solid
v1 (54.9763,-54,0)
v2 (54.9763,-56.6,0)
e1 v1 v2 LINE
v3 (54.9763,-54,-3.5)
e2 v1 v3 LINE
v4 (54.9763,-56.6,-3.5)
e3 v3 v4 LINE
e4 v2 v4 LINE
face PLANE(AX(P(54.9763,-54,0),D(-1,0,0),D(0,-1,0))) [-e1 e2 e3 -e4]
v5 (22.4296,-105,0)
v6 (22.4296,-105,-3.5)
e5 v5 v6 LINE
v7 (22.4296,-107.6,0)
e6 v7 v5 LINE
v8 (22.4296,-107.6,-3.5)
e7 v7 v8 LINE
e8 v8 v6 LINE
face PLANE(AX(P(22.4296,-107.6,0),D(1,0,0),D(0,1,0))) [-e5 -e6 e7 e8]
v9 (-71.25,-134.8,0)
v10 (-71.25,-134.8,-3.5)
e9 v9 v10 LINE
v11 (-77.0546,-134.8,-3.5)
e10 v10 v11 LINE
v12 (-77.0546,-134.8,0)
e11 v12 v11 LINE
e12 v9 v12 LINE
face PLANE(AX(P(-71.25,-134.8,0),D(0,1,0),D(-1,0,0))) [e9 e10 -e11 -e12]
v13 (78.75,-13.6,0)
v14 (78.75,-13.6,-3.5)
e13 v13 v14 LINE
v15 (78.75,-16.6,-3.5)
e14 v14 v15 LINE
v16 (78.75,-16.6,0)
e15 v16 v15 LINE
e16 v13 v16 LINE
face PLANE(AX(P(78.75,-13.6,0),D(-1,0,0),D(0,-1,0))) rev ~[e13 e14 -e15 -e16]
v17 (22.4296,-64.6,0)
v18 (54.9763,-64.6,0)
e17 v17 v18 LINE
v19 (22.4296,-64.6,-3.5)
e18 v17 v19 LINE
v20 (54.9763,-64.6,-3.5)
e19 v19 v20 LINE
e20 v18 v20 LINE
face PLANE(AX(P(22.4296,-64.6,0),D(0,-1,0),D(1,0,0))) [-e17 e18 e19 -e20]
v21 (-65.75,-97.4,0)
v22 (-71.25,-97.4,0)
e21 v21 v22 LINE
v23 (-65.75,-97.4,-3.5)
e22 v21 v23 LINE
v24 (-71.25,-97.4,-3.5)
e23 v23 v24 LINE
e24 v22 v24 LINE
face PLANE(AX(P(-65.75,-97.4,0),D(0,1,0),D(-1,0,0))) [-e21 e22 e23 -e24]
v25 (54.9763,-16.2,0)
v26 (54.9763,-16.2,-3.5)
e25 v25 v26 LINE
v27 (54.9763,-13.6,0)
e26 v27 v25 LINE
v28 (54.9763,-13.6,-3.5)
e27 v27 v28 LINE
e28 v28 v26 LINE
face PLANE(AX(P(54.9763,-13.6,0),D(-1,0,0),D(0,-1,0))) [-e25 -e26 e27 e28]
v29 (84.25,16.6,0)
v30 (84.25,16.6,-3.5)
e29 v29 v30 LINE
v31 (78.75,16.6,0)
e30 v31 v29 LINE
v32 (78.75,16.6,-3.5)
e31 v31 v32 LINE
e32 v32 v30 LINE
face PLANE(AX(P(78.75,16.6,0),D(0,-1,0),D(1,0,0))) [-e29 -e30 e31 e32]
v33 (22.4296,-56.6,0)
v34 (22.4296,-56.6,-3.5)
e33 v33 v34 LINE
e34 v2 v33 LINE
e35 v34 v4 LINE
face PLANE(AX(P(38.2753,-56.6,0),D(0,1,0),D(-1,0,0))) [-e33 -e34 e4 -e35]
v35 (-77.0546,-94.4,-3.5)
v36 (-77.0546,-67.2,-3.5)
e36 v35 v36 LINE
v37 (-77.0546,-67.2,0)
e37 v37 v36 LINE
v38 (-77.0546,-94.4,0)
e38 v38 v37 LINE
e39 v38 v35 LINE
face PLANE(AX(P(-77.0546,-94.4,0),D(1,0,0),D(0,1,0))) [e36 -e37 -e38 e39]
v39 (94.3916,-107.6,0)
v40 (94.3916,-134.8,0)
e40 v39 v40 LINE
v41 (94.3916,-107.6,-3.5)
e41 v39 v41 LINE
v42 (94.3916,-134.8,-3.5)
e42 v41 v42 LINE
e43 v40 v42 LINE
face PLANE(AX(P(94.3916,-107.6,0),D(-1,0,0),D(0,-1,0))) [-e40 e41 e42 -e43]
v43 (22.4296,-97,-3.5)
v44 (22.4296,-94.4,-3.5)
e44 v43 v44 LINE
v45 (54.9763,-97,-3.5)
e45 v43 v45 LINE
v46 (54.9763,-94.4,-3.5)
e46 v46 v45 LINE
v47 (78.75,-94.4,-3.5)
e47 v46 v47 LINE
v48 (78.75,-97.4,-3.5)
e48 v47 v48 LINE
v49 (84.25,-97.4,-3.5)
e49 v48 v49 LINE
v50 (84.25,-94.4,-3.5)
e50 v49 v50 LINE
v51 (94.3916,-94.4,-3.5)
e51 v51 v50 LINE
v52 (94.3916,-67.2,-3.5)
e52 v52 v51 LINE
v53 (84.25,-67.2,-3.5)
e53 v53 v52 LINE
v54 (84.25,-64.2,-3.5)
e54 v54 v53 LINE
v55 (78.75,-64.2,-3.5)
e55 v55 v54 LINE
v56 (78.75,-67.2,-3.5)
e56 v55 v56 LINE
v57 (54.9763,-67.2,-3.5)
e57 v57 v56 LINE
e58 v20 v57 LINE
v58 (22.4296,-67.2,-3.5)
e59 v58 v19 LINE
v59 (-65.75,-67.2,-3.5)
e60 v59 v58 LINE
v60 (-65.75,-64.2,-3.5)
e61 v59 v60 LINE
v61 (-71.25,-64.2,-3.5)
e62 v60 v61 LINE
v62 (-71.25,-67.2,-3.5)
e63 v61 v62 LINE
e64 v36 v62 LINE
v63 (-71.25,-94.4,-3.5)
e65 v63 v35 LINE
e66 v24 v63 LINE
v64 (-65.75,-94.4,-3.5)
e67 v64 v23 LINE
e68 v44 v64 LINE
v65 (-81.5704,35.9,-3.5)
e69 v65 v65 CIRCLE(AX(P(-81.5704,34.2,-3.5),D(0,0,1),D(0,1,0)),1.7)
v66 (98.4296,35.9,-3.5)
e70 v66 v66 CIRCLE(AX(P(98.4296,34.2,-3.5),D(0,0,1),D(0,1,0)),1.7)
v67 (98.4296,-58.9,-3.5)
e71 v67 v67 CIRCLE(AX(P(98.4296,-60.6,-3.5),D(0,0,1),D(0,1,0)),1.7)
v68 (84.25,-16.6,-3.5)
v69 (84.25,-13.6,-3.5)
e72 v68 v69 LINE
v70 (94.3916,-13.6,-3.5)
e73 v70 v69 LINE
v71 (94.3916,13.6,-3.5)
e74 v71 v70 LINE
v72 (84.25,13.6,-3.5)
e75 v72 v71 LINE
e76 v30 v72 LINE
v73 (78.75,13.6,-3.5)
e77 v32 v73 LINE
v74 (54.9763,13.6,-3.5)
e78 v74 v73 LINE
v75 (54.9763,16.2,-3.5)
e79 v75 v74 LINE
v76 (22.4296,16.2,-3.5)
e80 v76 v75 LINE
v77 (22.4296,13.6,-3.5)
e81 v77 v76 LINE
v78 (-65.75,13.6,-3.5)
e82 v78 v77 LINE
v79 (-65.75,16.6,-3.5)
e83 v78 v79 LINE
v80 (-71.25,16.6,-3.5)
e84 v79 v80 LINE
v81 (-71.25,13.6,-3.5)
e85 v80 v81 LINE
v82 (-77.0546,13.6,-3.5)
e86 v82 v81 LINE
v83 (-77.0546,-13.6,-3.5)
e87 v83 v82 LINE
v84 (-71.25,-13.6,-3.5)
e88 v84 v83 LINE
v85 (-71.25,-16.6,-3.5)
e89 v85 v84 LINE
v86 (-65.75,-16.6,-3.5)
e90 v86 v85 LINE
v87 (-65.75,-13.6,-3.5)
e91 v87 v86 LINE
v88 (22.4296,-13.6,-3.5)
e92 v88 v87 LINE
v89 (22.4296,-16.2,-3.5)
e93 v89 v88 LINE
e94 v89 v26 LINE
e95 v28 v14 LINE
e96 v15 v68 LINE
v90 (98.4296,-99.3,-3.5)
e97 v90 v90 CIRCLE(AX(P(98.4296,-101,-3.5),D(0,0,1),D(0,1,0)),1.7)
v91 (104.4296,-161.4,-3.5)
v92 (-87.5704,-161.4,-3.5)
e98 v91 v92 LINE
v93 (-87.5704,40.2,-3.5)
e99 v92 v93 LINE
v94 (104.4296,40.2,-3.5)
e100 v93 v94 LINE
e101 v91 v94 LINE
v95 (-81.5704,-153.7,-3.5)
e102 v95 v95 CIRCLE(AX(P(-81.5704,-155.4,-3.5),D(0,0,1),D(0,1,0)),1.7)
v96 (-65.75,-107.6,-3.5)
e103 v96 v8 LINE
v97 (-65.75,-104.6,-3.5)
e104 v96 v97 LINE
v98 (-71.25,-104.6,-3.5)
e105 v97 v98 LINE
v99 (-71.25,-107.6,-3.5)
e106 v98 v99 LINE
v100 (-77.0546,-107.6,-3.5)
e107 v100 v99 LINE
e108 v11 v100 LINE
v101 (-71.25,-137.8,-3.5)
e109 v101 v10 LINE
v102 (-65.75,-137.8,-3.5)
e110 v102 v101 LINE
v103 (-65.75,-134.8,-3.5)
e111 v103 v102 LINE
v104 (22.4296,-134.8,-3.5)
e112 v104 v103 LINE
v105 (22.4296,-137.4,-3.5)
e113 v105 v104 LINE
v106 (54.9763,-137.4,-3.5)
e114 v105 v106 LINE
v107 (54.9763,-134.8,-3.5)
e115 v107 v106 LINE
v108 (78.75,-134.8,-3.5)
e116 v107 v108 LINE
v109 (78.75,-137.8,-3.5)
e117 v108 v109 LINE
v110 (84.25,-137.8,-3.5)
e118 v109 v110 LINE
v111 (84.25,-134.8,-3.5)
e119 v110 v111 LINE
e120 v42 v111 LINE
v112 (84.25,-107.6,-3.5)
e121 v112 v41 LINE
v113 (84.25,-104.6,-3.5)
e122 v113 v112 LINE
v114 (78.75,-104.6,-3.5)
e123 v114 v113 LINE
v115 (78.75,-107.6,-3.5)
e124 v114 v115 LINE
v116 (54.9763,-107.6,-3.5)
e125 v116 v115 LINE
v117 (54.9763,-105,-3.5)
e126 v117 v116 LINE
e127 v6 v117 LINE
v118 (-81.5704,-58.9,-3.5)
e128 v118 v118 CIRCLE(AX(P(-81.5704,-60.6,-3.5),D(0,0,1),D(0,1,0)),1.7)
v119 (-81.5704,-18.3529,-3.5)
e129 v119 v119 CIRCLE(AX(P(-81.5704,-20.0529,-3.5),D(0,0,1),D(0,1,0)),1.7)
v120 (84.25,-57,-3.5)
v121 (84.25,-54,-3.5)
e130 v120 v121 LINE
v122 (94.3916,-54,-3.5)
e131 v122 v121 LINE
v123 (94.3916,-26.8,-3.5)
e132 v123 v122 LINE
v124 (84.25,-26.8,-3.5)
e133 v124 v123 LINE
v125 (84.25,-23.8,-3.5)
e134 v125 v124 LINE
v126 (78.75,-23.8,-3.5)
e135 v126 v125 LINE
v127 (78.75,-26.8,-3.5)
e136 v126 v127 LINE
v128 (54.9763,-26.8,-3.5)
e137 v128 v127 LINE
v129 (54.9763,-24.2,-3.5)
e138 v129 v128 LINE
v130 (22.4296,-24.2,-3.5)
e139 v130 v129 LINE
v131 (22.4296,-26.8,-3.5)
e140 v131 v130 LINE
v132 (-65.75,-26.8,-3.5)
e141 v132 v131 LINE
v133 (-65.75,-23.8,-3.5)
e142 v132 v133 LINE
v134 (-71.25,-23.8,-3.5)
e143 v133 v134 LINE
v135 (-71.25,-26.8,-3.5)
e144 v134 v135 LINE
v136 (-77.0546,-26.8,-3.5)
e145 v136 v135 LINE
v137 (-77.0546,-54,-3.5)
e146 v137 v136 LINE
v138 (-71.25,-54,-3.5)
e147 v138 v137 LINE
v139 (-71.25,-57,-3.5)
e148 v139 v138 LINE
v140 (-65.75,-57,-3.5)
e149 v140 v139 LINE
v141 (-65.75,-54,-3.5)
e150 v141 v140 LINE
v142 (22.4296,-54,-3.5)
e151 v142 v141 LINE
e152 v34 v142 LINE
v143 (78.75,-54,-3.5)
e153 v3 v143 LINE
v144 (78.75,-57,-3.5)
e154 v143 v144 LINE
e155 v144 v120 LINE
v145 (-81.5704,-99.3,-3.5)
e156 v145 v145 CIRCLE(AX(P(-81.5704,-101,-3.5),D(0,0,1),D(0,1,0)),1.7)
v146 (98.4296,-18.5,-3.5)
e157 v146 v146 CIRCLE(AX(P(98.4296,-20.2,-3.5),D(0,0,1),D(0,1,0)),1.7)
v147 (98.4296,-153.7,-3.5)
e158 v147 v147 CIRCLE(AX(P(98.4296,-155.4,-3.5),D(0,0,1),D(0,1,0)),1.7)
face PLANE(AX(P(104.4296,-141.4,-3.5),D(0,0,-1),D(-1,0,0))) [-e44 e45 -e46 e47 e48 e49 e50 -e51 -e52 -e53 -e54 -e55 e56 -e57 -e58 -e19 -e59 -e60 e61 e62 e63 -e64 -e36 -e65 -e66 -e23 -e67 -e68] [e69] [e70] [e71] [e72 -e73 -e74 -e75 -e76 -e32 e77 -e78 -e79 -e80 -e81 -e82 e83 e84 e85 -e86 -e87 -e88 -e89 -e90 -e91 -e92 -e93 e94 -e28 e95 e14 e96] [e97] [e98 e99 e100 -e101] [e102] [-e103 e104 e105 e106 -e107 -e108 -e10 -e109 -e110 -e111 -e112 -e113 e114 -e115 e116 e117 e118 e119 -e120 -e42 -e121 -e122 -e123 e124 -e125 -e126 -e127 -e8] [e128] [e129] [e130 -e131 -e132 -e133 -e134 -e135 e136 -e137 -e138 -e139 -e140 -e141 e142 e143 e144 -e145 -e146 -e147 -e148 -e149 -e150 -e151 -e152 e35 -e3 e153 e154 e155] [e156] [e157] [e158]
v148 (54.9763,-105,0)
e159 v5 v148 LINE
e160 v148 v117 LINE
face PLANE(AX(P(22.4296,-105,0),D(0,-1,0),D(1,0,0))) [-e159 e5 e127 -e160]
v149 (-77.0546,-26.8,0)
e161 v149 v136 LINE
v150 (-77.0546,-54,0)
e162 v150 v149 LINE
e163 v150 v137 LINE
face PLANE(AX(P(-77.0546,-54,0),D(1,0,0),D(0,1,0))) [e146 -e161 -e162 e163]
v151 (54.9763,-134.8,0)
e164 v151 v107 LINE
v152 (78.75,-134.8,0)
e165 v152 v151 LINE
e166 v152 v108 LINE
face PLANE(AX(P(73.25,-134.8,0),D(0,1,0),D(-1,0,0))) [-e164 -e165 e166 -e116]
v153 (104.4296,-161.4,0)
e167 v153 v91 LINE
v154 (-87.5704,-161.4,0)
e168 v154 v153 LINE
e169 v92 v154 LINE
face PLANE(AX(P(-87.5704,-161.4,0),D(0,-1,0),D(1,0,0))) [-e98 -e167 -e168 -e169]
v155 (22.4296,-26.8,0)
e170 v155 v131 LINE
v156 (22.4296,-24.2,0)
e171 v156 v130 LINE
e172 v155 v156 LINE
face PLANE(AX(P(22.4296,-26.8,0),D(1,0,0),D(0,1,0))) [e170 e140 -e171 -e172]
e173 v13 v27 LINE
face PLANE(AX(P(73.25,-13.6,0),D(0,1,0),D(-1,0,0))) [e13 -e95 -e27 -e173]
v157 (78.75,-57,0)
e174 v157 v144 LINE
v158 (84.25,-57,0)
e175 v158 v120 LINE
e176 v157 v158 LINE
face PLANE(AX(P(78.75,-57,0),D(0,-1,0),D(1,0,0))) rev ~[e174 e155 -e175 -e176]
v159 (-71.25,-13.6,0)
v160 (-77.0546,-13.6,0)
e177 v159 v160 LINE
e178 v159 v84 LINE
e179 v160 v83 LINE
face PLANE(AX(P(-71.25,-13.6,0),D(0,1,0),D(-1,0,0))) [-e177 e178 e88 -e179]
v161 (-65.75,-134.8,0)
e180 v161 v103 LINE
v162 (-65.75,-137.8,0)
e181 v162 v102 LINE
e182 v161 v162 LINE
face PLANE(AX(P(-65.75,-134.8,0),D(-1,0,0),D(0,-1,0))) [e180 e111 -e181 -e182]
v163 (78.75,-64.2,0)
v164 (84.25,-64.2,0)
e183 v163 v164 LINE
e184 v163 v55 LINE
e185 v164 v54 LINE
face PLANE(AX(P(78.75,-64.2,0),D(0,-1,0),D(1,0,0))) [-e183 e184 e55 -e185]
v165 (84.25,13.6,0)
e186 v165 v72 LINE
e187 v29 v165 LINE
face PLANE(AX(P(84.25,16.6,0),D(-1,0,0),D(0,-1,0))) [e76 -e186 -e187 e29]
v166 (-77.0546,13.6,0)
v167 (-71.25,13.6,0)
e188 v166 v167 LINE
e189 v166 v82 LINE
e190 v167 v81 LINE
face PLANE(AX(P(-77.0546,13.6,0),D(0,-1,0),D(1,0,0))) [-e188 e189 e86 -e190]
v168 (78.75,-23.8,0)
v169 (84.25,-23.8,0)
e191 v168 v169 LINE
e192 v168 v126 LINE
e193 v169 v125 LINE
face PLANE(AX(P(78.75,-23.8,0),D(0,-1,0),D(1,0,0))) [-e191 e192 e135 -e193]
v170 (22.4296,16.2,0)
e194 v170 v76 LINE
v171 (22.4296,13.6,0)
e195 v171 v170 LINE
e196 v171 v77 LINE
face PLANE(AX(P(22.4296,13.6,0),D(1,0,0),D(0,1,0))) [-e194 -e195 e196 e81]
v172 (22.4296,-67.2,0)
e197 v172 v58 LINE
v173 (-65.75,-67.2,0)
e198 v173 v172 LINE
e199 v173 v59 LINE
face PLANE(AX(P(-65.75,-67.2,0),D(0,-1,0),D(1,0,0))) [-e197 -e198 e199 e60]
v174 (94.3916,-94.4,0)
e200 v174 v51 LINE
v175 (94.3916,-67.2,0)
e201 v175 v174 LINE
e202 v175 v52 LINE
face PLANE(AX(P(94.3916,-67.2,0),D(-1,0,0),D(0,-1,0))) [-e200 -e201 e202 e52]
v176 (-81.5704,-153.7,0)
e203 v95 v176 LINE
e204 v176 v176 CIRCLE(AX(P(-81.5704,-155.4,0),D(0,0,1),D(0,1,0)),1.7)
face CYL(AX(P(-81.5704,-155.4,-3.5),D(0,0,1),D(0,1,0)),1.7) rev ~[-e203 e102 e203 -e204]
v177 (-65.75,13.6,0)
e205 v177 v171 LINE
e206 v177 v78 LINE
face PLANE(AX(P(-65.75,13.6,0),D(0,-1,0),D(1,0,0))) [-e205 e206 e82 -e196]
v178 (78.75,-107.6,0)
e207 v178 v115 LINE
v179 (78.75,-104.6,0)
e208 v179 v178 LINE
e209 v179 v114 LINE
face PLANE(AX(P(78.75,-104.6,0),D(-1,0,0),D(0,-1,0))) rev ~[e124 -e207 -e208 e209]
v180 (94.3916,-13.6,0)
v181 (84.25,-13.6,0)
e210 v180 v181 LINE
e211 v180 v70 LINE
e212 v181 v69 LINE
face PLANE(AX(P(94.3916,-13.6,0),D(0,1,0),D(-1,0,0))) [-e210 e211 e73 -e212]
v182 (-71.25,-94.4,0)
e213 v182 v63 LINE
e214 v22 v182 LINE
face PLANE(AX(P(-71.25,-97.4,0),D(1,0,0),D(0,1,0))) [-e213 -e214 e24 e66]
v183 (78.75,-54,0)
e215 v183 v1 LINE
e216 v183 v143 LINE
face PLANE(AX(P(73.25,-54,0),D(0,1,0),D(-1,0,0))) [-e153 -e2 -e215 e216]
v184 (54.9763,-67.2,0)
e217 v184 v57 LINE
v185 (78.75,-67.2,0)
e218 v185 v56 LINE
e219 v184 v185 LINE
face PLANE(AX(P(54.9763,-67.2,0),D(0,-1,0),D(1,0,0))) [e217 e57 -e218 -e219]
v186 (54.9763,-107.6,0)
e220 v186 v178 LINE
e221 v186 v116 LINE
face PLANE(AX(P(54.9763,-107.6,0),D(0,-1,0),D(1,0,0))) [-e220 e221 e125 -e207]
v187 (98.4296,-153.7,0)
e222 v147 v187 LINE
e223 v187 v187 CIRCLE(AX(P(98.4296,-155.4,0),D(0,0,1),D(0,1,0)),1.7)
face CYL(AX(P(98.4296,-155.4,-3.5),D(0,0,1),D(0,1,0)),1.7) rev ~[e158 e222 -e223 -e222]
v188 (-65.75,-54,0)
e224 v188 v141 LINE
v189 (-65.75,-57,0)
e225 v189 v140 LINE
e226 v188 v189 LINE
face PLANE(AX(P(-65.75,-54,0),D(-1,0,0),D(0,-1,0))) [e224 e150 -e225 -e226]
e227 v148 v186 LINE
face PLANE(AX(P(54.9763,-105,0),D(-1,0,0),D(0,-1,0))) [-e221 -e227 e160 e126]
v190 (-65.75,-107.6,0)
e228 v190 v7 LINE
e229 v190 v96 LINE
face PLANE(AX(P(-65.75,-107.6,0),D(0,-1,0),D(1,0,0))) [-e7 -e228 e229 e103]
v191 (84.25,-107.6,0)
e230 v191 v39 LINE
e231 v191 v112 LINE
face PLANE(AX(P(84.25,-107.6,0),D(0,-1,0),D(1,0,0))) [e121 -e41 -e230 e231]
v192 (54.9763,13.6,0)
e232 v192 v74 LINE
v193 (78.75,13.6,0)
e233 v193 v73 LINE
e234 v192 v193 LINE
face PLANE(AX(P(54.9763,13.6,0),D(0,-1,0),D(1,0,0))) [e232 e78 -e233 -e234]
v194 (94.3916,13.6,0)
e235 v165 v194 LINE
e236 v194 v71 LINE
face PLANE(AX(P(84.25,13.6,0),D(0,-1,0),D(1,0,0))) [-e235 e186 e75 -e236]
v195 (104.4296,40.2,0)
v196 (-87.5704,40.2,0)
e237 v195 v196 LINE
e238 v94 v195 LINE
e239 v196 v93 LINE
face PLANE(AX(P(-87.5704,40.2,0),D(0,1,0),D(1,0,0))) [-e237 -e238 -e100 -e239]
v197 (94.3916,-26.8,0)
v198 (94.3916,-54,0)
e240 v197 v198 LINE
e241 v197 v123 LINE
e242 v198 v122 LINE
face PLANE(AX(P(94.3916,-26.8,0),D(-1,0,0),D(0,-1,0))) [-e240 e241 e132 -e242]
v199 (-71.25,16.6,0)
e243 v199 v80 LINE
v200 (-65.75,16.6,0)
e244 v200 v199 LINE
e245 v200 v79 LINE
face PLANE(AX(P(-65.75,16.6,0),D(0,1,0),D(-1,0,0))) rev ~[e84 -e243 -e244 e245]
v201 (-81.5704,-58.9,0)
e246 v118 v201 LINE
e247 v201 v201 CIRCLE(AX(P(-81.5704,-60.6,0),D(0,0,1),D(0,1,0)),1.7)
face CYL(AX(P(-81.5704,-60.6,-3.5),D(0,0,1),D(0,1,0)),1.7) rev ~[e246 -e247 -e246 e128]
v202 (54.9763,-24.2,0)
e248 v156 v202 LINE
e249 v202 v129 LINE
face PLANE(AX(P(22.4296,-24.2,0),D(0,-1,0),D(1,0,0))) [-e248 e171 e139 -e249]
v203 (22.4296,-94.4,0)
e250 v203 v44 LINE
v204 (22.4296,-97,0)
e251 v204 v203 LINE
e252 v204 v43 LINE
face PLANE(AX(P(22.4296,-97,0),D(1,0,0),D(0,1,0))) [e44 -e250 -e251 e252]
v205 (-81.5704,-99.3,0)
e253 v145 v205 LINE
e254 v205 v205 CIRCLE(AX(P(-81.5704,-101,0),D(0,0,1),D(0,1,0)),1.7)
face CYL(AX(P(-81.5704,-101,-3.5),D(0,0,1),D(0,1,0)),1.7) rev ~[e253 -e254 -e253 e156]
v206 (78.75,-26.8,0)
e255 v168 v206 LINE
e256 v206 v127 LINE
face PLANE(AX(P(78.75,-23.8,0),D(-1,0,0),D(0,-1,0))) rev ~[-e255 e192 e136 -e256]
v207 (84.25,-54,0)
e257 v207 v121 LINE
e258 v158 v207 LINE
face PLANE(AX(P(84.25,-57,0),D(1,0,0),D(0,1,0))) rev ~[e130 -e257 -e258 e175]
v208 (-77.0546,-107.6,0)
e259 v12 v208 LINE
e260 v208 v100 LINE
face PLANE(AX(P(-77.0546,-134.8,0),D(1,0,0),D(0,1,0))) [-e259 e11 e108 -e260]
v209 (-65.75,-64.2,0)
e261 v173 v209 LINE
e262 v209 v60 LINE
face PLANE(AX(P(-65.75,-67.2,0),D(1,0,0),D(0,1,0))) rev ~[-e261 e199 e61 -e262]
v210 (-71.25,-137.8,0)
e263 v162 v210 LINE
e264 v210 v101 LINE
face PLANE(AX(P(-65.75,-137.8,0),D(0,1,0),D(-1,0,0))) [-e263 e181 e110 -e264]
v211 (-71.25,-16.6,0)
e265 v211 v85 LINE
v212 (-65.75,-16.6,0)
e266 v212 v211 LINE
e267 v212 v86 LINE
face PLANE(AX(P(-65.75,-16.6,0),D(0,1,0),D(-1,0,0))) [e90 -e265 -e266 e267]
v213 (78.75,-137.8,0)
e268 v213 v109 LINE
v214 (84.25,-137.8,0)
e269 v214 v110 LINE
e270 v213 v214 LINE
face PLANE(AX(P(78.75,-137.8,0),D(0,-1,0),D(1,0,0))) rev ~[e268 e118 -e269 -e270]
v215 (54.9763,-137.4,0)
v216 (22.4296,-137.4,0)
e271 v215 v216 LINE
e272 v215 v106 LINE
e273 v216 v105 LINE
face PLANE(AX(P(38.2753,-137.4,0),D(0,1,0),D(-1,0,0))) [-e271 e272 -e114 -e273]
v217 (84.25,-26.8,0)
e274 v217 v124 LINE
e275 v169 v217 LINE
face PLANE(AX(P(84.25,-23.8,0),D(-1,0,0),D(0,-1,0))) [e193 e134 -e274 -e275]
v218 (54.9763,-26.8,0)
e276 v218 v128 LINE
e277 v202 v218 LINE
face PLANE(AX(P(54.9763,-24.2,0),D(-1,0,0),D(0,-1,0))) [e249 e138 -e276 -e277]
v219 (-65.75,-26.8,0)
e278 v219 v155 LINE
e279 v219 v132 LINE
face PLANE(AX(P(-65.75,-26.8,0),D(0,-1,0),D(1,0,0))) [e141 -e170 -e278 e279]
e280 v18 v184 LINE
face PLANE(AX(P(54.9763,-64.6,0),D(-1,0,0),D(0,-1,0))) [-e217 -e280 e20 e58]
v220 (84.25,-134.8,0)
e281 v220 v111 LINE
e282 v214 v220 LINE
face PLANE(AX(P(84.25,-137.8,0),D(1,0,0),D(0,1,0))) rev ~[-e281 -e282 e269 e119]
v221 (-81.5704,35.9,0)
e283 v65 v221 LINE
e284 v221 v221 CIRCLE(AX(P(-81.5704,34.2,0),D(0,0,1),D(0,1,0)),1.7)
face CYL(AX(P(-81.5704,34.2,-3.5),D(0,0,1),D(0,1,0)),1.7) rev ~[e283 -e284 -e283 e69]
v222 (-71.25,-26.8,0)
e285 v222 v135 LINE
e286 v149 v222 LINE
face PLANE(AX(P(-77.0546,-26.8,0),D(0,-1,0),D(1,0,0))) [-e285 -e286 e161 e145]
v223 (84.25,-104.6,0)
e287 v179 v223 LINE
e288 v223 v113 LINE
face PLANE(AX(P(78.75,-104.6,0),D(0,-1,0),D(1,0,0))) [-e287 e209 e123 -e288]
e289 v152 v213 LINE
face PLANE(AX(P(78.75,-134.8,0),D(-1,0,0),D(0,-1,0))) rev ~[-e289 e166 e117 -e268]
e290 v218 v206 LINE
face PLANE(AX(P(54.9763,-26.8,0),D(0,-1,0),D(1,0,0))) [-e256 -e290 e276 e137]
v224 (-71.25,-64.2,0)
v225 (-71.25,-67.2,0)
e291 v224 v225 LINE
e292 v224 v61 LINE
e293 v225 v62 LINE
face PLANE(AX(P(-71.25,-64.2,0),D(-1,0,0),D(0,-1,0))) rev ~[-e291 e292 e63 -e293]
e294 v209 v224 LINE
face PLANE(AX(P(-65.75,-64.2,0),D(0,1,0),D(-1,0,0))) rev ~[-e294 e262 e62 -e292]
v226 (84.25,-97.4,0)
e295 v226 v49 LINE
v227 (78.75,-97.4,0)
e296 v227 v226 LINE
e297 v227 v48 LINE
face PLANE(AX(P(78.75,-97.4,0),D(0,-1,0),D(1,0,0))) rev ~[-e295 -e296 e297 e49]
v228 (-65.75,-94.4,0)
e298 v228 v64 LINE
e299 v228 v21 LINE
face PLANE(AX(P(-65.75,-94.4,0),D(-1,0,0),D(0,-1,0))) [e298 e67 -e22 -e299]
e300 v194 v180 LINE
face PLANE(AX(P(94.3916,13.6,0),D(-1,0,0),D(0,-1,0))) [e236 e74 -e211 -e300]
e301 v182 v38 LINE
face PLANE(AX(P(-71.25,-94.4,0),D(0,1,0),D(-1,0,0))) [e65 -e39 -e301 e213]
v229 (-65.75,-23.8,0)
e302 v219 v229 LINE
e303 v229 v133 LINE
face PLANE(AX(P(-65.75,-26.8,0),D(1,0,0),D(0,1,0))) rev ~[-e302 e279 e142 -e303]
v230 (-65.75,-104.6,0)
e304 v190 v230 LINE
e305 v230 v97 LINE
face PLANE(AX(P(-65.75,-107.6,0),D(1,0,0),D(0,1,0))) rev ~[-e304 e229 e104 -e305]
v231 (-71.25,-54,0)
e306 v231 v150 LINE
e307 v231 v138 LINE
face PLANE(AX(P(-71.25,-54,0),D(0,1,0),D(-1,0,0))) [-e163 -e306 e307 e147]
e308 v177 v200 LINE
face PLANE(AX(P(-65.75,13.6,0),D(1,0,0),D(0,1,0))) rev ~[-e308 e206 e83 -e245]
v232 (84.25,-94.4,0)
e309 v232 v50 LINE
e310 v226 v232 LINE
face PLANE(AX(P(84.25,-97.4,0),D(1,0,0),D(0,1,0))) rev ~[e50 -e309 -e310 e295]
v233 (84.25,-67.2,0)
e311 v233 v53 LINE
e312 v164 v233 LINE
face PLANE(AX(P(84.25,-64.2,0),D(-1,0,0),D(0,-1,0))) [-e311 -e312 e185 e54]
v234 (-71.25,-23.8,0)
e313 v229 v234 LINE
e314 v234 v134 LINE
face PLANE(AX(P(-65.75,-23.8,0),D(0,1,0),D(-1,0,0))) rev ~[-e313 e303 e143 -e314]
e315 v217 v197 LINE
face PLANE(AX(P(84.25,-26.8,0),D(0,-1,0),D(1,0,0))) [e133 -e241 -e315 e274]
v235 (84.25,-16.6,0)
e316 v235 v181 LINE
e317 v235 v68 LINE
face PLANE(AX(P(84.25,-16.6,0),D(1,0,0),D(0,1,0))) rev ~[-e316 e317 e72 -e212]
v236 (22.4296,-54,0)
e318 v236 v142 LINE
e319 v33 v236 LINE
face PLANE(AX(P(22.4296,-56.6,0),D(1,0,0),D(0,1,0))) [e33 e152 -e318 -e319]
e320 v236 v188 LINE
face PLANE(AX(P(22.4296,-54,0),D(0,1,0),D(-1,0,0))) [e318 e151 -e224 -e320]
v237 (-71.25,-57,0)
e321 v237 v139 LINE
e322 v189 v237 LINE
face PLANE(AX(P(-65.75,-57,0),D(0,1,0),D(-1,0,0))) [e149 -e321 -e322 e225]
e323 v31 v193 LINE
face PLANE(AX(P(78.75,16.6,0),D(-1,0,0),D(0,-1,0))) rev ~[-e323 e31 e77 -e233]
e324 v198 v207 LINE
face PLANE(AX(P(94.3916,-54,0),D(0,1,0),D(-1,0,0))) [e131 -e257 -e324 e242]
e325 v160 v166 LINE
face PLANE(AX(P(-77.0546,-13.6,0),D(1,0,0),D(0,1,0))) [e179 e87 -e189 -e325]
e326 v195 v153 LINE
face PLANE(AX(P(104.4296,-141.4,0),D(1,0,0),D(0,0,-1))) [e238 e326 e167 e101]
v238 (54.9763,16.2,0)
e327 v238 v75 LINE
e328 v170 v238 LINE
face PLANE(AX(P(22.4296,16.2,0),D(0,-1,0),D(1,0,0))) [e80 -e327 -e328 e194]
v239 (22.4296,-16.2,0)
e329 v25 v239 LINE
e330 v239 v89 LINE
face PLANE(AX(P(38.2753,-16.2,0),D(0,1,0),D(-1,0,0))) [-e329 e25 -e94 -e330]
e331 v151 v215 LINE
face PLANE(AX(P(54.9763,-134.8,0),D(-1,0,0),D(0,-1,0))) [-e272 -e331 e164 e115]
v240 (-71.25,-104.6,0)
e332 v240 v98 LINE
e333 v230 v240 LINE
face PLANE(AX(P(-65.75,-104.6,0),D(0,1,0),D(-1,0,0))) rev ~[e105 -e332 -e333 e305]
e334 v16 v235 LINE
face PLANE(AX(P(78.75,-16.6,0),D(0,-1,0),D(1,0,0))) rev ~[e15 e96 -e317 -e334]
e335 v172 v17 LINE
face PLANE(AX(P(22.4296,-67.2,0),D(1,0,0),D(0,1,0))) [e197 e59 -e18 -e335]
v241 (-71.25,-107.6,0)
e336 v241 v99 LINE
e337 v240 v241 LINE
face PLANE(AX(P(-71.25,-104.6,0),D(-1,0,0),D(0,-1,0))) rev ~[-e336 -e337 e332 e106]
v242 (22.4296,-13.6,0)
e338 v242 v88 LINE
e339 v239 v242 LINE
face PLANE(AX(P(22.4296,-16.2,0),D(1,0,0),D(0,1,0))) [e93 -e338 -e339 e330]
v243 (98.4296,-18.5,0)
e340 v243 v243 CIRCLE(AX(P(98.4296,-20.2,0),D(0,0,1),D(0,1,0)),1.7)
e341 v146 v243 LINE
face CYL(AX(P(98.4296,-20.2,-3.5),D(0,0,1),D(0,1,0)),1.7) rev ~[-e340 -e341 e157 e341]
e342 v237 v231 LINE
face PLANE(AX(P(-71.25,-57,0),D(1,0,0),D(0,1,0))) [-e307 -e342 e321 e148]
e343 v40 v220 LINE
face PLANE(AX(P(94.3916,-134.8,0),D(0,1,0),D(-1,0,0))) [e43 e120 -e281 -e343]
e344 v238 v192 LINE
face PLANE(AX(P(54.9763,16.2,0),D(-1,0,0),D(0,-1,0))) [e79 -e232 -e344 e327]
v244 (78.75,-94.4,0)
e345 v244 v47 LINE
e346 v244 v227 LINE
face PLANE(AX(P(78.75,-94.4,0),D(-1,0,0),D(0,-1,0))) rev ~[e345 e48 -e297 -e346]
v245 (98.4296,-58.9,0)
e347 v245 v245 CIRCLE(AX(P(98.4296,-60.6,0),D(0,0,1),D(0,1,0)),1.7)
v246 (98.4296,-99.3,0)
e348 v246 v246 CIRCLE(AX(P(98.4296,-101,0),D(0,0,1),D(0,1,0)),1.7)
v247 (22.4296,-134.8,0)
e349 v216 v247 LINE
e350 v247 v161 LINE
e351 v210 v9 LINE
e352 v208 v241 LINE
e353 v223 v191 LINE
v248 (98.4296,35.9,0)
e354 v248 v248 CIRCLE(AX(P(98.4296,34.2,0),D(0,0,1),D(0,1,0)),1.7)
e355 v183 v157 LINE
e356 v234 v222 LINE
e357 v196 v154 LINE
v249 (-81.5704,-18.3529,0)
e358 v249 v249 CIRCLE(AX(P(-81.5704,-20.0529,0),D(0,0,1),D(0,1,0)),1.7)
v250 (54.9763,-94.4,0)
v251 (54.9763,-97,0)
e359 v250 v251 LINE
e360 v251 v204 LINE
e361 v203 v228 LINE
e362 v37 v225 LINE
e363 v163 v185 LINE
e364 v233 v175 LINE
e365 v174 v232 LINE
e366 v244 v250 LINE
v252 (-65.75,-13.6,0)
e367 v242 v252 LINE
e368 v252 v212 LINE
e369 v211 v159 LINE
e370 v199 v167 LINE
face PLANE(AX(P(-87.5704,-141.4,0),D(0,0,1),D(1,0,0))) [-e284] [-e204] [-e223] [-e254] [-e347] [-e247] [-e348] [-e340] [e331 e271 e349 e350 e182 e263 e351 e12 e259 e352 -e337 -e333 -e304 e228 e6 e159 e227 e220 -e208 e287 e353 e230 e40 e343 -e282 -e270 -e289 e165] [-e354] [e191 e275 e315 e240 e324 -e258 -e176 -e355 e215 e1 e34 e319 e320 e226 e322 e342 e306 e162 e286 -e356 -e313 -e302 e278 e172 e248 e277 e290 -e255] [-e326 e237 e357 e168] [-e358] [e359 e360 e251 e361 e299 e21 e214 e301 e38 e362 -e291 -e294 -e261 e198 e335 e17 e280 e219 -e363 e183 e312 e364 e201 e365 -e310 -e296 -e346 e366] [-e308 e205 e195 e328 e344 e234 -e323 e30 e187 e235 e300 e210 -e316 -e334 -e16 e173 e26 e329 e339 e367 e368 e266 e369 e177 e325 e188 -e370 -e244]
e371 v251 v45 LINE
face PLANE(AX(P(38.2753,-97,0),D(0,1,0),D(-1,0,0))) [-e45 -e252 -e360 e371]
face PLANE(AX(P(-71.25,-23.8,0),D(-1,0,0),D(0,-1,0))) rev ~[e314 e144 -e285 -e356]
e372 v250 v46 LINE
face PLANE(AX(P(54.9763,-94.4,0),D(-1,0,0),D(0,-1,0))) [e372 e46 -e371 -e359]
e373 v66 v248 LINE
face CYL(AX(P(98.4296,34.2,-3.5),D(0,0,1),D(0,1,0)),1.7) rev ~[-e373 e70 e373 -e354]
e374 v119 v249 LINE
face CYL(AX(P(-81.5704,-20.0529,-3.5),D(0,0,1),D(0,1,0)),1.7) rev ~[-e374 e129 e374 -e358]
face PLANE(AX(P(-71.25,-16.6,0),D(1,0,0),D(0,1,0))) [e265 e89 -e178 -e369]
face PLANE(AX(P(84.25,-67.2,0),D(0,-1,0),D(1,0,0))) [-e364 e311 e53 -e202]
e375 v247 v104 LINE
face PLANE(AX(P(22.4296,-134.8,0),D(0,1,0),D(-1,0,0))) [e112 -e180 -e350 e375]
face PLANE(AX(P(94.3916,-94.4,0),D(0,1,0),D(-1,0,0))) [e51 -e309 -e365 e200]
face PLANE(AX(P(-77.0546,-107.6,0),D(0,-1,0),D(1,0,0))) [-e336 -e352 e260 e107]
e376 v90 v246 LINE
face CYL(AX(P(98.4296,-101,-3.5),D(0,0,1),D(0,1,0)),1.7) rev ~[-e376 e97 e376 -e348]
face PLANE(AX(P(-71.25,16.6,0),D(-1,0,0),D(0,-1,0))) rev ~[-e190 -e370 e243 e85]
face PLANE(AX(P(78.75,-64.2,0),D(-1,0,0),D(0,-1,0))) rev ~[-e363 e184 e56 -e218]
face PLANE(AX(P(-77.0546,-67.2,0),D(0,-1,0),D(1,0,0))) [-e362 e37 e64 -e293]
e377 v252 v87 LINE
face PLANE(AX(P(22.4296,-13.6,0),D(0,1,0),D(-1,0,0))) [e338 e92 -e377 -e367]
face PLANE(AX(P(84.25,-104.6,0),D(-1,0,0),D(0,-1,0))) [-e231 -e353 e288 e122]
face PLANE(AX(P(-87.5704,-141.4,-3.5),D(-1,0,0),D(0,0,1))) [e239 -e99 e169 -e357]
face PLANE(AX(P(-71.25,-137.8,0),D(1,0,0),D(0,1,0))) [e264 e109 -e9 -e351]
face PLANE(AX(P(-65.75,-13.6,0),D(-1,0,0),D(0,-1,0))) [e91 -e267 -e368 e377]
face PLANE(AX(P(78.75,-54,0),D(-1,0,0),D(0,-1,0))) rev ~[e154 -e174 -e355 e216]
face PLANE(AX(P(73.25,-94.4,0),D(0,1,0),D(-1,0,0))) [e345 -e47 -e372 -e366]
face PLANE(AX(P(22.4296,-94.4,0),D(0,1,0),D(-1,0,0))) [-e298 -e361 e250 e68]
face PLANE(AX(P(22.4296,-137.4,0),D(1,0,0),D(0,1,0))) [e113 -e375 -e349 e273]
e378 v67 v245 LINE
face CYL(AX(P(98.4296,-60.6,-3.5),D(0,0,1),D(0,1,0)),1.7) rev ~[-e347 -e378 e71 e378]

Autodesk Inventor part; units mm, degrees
ref_plane "YZ Plane" through (0, 0, 0) normal (1, 0, 0) x (0, 1, 0)
ref_plane "XZ Plane" through (0, 0, 0) normal (0, 1, 0) x (-1, 0, 0)
ref_plane "XY Plane" through (0, 0, 0) normal (0, 0, 1) x (1, 0, 0)
sketch "Sketch1" plane through (0, 0, 0) normal (0, 0, 1) x (1, 0, 0)
  line L0 (93.3916, -12.6) -> (93.3916, 12.6)
  line L1 (53.9763, -12.6) -> (93.3916, -12.6)
  line L2 (53.9763, -15.2) -> (53.9763, -12.6)
  line L3 (38.2753, -15.2) -> (53.9763, -15.2)
  line L4 (38.2753, -15.2) -> (23.4296, -15.2)
  line L5 (23.4296, -12.6) -> (23.4296, -15.2)
  line L6 (-76.0546, -12.6) -> (23.4296, -12.6)
  line L7 (23.4296, 12.6) -> (-76.0546, 12.6)
  line L8 (23.4296, 15.2) -> (23.4296, 12.6)
  line L9 (-76.0546, 12.6) -> (-76.0546, -12.6)
  line L10 (-68.5, 10) -> (-66.9, 10)
  line L11 (-68.5, -10) -> (-70.1, -10)
  line L12 (23.4296, 15.2) -> (53.9763, 15.2)
  line L13 (53.9763, 15.2) -> (53.9763, 12.6)
  line L14 (53.9763, 12.6) -> (93.3916, 12.6)
  line L15 (22.4296, 13.6) -> (22.4296, 16.2)
  line L16 (22.4296, 16.2) -> (54.9763, 16.2)
  line L17 (54.9763, 16.2) -> (54.9763, 13.6)
  line L18 (94.3916, 13.6) -> (94.3916, -13.6)
  line L19 (54.9763, -13.6) -> (54.9763, -16.2)
  line L20 (54.9763, -16.2) -> (38.2753, -16.2)
  line L21 (38.2753, -16.2) -> (22.4296, -16.2)
  line L22 (22.4296, -16.2) -> (22.4296, -13.6)
  line L23 (-77.0546, -13.6) -> (-77.0546, 13.6)
  line L24 (22.4296, -16.2) -> (22.4296, -20.2) construction
  line L25 (22.4296, -20.2) -> (-87.5704, -20.2)
  line L26 (-87.5704, -20.2) -> (-87.5704, 20.2)
  line L27 (-87.5704, 20.2) -> (22.4296, 20.2)
  line L28 (104.4296, -20.2) -> (22.4296, -20.2)
  line L29 (22.4296, 20.2) -> (104.4296, 20.2)
  line L30 (104.4296, 20.2) -> (104.4296, -20.2)
  line L31 (-65.75, 13.6) -> (-65.75, 16.6)
  line L32 (-65.75, 16.6) -> (-71.25, 16.6)
  line L33 (-65.75, -13.6) -> (-65.75, -16.6)
  line L34 (-65.75, -16.6) -> (-71.25, -16.6)
  line L35 (-71.25, -16.6) -> (-71.25, -13.6)
  line L36 (-67.0333, -15.2) -> (-65.75, -16.6) construction
  line L37 (-69.9667, -15.2) -> (-71.25, -16.6) construction
  line L38 (-71.25, 16.6) -> (-71.25, 13.6)
  line L39 (-77.0546, 13.6) -> (-71.25, 13.6)
  line L40 (-65.75, 13.6) -> (22.4296, 13.6)
  line L41 (22.4296, -13.6) -> (-65.75, -13.6)
  line L42 (-71.25, -13.6) -> (-77.0546, -13.6)
  line L43 (-65.75, 16.6) -> (78.75, 16.6) construction
  line L44 (-65.75, 16.6) -> (78.75, 16.6) construction
  line L45 (78.75, 16.6) -> (78.75, 16.6)
  line L46 (78.75, 16.6) -> (78.75, 13.6)
  line L47 (78.75, 16.6) -> (78.75, 13.6)
  line L48 (54.9763, 13.6) -> (78.75, 13.6)
  line L49 (84.25, 13.6) -> (94.3916, 13.6)
  line L50 (78.75, 13.6) -> (78.75, -12.6) construction
  line L51 (78.75, -12.6) -> (78.75, -13.6) construction
  line L52 (78.75, -13.6) -> (78.75, -16.6)
  line L53 (94.3916, -13.6) -> (84.25, -13.6)
  line L54 (73.25, -13.6) -> (54.9763, -13.6)
  line L55 (78.75, 16.6) -> (84.25, 16.6)
  line L56 (84.25, 16.6) -> (84.25, 13.6)
  line L57 (78.75, 13.6) -> (78.75, 13.6)
  line L58 (78.75, -16.6) -> (84.25, -16.6)
  line L59 (84.25, -16.6) -> (84.25, -13.6)
  line L60 (78.75, -13.6) -> (73.25, -13.6)
  dimension "d1" = 4
  dimension "d2" = 110
  dimension "d3" = 40.4
  dimension "d5" = 82
  dimension "d32" = 144.5
  dimension "d33" = 0
  dimension "d37" = 5.5
  dimension "d38" = 5.5
  dimension "d39" = 9.1416
  dimension "d40" = 4.8046
extrude "Extrusion1" add sketch "Sketch1" against normal blind 3.5 contours L25 L26 L27 L29 L30 L28
pattern_linear "Rectangular Pattern1" count 4 spacing 40.4 along (0, -1, 0)
sketch "Sketch2" plane through (-87.5704, 20.2, 0) normal (0, 1, 0) x (1, 0, 0)
  line L0 (192, 3.5) -> (192, 0) projected
  line L1 (192, 0) -> (0, 0) projected
  line L2 (0, 0) -> (0, 3.5) projected
  line L3 (0, 3.5) -> (192, 3.5) projected
  point P0 (87.5704, 0)
extrude "Extrusion2" add sketch "Sketch2" along normal blind 20
sketch "Sketch3" plane through (-87.5704, -141.4, 0) normal (0, -1, 0) x (1, 0, 0)
  line L0 (192, 0) -> (192, -3.5) projected
  line L1 (192, -3.5) -> (0, -3.5) projected
  line L2 (0, -3.5) -> (0, 0) projected
  line L3 (0, 0) -> (192, 0) projected
  point P0 (87.5704, 0)
extrude "Extrusion3" add sketch "Sketch3" along normal blind 20
sketch "Sketch4" plane through (0, 0, -3.5) normal (0, 0, -1) x (-1, 0, 0)
  line L0 (87.5704, -161.4) -> (-104.4296, -161.4) projected
  line L1 (87.5704, -161.4) -> (81.5704, -161.4)
  line L2 (81.5704, -161.4) -> (81.5704, 40.2)
  line L3 (-104.4296, 40.2) -> (87.5704, 40.2) projected
  line L4 (81.5704, -161.4) -> (81.5704, -155.4)
  line L5 (81.5704, 40.2) -> (81.5704, 34.2)
  line L6 (77.0546, -107.6) -> (71.25, -107.6) projected
  line L7 (77.0546, -67.2) -> (77.0546, -94.4) projected
  line L8 (77.0546, -107.6) -> (77.0546, -94.4)
  line L9 (77.0546, -101) -> (81.5704, -101)
  line L10 (77.0546, -67.2) -> (77.0546, -53.8327)
  line L11 (77.0546, -60.5163) -> (81.5704, -60.6)
  line L12 (77.0546, -54) -> (77.0546, -26.8) projected
  line L13 (77.0546, -26.8) -> (77.0546, -13.3059)
  line L14 (77.0546, -20.0529) -> (81.5704, -20.0529)
  line L15 (-78.75, -107.6) -> (-54.9763, -107.6) projected
  line L16 (-94.3916, -67.2) -> (-94.3916, -94.4) projected
  line L17 (-94.3916, -107.6) -> (-94.3916, -94.4)
  line L18 (-84.25, -54) -> (-94.3916, -54) projected
  line L19 (-94.3916, -67.2) -> (-94.3916, -54)
  line L20 (-84.25, -13.6) -> (-94.3916, -13.6) projected
  line L21 (-94.3916, -13.6) -> (-94.3916, 13.6) projected
  line L22 (-94.3916, -13.6) -> (-94.3916, 13.6)
  line L23 (-104.4296, -161.4) -> (-98.4296, -161.4)
  line L24 (-98.4296, -161.4) -> (-98.4296, 40.2)
  line L25 (-94.3916, -101) -> (-98.4296, -101)
  line L26 (-94.3916, -60.6) -> (-98.4296, -60.6)
  line L27 (-94.3916, -26.8) -> (-94.3916, -13.6)
  line L28 (-94.3916, -20.2) -> (-98.4296, -20.2)
  line L29 (-98.4296, 40.2) -> (-98.4296, 34.2)
  line L30 (-98.4296, -161.4) -> (-98.4296, -155.4)
  point P0 (0, 0)
  point P1 (-22.4296, -107.6)
  point P2 (-54.9763, -54)
  point P3 (-54.9763, -13.6)
  point P4 (-78.75, -54)
  point P5 (-78.75, -13.6)
  dimension "d15" = 6
  dimension "d16" = 6
  dimension "d17" = 6
  dimension "d18" = 6
  dimension "d19" = 6
  dimension "d20" = 6
hole "Hole1" at (98.4296, -155.4, -3.5) at (98.4296, -155.4, -3.5) at (98.4296, -101, -3.5) at (98.4296, -60.6, -3.5) at (98.4296, -20.2, -3.5) at (98.4296, 34.2, -3.5) at (-81.5704, 34.2, -3.5) at (-81.5704, -20.0529, -3.5) at (-81.5704, -60.6, -3.5) at (-81.5704, -101, -3.5) at (-81.5704, -155.4, -3.5) direction (0, 0, 1) diameter 3.4 end through all clearance for "Flat Head Machine Screw" size "M3" standard "Ansi Metric M Profile"
properties part number "DeckPlate-4x1"
